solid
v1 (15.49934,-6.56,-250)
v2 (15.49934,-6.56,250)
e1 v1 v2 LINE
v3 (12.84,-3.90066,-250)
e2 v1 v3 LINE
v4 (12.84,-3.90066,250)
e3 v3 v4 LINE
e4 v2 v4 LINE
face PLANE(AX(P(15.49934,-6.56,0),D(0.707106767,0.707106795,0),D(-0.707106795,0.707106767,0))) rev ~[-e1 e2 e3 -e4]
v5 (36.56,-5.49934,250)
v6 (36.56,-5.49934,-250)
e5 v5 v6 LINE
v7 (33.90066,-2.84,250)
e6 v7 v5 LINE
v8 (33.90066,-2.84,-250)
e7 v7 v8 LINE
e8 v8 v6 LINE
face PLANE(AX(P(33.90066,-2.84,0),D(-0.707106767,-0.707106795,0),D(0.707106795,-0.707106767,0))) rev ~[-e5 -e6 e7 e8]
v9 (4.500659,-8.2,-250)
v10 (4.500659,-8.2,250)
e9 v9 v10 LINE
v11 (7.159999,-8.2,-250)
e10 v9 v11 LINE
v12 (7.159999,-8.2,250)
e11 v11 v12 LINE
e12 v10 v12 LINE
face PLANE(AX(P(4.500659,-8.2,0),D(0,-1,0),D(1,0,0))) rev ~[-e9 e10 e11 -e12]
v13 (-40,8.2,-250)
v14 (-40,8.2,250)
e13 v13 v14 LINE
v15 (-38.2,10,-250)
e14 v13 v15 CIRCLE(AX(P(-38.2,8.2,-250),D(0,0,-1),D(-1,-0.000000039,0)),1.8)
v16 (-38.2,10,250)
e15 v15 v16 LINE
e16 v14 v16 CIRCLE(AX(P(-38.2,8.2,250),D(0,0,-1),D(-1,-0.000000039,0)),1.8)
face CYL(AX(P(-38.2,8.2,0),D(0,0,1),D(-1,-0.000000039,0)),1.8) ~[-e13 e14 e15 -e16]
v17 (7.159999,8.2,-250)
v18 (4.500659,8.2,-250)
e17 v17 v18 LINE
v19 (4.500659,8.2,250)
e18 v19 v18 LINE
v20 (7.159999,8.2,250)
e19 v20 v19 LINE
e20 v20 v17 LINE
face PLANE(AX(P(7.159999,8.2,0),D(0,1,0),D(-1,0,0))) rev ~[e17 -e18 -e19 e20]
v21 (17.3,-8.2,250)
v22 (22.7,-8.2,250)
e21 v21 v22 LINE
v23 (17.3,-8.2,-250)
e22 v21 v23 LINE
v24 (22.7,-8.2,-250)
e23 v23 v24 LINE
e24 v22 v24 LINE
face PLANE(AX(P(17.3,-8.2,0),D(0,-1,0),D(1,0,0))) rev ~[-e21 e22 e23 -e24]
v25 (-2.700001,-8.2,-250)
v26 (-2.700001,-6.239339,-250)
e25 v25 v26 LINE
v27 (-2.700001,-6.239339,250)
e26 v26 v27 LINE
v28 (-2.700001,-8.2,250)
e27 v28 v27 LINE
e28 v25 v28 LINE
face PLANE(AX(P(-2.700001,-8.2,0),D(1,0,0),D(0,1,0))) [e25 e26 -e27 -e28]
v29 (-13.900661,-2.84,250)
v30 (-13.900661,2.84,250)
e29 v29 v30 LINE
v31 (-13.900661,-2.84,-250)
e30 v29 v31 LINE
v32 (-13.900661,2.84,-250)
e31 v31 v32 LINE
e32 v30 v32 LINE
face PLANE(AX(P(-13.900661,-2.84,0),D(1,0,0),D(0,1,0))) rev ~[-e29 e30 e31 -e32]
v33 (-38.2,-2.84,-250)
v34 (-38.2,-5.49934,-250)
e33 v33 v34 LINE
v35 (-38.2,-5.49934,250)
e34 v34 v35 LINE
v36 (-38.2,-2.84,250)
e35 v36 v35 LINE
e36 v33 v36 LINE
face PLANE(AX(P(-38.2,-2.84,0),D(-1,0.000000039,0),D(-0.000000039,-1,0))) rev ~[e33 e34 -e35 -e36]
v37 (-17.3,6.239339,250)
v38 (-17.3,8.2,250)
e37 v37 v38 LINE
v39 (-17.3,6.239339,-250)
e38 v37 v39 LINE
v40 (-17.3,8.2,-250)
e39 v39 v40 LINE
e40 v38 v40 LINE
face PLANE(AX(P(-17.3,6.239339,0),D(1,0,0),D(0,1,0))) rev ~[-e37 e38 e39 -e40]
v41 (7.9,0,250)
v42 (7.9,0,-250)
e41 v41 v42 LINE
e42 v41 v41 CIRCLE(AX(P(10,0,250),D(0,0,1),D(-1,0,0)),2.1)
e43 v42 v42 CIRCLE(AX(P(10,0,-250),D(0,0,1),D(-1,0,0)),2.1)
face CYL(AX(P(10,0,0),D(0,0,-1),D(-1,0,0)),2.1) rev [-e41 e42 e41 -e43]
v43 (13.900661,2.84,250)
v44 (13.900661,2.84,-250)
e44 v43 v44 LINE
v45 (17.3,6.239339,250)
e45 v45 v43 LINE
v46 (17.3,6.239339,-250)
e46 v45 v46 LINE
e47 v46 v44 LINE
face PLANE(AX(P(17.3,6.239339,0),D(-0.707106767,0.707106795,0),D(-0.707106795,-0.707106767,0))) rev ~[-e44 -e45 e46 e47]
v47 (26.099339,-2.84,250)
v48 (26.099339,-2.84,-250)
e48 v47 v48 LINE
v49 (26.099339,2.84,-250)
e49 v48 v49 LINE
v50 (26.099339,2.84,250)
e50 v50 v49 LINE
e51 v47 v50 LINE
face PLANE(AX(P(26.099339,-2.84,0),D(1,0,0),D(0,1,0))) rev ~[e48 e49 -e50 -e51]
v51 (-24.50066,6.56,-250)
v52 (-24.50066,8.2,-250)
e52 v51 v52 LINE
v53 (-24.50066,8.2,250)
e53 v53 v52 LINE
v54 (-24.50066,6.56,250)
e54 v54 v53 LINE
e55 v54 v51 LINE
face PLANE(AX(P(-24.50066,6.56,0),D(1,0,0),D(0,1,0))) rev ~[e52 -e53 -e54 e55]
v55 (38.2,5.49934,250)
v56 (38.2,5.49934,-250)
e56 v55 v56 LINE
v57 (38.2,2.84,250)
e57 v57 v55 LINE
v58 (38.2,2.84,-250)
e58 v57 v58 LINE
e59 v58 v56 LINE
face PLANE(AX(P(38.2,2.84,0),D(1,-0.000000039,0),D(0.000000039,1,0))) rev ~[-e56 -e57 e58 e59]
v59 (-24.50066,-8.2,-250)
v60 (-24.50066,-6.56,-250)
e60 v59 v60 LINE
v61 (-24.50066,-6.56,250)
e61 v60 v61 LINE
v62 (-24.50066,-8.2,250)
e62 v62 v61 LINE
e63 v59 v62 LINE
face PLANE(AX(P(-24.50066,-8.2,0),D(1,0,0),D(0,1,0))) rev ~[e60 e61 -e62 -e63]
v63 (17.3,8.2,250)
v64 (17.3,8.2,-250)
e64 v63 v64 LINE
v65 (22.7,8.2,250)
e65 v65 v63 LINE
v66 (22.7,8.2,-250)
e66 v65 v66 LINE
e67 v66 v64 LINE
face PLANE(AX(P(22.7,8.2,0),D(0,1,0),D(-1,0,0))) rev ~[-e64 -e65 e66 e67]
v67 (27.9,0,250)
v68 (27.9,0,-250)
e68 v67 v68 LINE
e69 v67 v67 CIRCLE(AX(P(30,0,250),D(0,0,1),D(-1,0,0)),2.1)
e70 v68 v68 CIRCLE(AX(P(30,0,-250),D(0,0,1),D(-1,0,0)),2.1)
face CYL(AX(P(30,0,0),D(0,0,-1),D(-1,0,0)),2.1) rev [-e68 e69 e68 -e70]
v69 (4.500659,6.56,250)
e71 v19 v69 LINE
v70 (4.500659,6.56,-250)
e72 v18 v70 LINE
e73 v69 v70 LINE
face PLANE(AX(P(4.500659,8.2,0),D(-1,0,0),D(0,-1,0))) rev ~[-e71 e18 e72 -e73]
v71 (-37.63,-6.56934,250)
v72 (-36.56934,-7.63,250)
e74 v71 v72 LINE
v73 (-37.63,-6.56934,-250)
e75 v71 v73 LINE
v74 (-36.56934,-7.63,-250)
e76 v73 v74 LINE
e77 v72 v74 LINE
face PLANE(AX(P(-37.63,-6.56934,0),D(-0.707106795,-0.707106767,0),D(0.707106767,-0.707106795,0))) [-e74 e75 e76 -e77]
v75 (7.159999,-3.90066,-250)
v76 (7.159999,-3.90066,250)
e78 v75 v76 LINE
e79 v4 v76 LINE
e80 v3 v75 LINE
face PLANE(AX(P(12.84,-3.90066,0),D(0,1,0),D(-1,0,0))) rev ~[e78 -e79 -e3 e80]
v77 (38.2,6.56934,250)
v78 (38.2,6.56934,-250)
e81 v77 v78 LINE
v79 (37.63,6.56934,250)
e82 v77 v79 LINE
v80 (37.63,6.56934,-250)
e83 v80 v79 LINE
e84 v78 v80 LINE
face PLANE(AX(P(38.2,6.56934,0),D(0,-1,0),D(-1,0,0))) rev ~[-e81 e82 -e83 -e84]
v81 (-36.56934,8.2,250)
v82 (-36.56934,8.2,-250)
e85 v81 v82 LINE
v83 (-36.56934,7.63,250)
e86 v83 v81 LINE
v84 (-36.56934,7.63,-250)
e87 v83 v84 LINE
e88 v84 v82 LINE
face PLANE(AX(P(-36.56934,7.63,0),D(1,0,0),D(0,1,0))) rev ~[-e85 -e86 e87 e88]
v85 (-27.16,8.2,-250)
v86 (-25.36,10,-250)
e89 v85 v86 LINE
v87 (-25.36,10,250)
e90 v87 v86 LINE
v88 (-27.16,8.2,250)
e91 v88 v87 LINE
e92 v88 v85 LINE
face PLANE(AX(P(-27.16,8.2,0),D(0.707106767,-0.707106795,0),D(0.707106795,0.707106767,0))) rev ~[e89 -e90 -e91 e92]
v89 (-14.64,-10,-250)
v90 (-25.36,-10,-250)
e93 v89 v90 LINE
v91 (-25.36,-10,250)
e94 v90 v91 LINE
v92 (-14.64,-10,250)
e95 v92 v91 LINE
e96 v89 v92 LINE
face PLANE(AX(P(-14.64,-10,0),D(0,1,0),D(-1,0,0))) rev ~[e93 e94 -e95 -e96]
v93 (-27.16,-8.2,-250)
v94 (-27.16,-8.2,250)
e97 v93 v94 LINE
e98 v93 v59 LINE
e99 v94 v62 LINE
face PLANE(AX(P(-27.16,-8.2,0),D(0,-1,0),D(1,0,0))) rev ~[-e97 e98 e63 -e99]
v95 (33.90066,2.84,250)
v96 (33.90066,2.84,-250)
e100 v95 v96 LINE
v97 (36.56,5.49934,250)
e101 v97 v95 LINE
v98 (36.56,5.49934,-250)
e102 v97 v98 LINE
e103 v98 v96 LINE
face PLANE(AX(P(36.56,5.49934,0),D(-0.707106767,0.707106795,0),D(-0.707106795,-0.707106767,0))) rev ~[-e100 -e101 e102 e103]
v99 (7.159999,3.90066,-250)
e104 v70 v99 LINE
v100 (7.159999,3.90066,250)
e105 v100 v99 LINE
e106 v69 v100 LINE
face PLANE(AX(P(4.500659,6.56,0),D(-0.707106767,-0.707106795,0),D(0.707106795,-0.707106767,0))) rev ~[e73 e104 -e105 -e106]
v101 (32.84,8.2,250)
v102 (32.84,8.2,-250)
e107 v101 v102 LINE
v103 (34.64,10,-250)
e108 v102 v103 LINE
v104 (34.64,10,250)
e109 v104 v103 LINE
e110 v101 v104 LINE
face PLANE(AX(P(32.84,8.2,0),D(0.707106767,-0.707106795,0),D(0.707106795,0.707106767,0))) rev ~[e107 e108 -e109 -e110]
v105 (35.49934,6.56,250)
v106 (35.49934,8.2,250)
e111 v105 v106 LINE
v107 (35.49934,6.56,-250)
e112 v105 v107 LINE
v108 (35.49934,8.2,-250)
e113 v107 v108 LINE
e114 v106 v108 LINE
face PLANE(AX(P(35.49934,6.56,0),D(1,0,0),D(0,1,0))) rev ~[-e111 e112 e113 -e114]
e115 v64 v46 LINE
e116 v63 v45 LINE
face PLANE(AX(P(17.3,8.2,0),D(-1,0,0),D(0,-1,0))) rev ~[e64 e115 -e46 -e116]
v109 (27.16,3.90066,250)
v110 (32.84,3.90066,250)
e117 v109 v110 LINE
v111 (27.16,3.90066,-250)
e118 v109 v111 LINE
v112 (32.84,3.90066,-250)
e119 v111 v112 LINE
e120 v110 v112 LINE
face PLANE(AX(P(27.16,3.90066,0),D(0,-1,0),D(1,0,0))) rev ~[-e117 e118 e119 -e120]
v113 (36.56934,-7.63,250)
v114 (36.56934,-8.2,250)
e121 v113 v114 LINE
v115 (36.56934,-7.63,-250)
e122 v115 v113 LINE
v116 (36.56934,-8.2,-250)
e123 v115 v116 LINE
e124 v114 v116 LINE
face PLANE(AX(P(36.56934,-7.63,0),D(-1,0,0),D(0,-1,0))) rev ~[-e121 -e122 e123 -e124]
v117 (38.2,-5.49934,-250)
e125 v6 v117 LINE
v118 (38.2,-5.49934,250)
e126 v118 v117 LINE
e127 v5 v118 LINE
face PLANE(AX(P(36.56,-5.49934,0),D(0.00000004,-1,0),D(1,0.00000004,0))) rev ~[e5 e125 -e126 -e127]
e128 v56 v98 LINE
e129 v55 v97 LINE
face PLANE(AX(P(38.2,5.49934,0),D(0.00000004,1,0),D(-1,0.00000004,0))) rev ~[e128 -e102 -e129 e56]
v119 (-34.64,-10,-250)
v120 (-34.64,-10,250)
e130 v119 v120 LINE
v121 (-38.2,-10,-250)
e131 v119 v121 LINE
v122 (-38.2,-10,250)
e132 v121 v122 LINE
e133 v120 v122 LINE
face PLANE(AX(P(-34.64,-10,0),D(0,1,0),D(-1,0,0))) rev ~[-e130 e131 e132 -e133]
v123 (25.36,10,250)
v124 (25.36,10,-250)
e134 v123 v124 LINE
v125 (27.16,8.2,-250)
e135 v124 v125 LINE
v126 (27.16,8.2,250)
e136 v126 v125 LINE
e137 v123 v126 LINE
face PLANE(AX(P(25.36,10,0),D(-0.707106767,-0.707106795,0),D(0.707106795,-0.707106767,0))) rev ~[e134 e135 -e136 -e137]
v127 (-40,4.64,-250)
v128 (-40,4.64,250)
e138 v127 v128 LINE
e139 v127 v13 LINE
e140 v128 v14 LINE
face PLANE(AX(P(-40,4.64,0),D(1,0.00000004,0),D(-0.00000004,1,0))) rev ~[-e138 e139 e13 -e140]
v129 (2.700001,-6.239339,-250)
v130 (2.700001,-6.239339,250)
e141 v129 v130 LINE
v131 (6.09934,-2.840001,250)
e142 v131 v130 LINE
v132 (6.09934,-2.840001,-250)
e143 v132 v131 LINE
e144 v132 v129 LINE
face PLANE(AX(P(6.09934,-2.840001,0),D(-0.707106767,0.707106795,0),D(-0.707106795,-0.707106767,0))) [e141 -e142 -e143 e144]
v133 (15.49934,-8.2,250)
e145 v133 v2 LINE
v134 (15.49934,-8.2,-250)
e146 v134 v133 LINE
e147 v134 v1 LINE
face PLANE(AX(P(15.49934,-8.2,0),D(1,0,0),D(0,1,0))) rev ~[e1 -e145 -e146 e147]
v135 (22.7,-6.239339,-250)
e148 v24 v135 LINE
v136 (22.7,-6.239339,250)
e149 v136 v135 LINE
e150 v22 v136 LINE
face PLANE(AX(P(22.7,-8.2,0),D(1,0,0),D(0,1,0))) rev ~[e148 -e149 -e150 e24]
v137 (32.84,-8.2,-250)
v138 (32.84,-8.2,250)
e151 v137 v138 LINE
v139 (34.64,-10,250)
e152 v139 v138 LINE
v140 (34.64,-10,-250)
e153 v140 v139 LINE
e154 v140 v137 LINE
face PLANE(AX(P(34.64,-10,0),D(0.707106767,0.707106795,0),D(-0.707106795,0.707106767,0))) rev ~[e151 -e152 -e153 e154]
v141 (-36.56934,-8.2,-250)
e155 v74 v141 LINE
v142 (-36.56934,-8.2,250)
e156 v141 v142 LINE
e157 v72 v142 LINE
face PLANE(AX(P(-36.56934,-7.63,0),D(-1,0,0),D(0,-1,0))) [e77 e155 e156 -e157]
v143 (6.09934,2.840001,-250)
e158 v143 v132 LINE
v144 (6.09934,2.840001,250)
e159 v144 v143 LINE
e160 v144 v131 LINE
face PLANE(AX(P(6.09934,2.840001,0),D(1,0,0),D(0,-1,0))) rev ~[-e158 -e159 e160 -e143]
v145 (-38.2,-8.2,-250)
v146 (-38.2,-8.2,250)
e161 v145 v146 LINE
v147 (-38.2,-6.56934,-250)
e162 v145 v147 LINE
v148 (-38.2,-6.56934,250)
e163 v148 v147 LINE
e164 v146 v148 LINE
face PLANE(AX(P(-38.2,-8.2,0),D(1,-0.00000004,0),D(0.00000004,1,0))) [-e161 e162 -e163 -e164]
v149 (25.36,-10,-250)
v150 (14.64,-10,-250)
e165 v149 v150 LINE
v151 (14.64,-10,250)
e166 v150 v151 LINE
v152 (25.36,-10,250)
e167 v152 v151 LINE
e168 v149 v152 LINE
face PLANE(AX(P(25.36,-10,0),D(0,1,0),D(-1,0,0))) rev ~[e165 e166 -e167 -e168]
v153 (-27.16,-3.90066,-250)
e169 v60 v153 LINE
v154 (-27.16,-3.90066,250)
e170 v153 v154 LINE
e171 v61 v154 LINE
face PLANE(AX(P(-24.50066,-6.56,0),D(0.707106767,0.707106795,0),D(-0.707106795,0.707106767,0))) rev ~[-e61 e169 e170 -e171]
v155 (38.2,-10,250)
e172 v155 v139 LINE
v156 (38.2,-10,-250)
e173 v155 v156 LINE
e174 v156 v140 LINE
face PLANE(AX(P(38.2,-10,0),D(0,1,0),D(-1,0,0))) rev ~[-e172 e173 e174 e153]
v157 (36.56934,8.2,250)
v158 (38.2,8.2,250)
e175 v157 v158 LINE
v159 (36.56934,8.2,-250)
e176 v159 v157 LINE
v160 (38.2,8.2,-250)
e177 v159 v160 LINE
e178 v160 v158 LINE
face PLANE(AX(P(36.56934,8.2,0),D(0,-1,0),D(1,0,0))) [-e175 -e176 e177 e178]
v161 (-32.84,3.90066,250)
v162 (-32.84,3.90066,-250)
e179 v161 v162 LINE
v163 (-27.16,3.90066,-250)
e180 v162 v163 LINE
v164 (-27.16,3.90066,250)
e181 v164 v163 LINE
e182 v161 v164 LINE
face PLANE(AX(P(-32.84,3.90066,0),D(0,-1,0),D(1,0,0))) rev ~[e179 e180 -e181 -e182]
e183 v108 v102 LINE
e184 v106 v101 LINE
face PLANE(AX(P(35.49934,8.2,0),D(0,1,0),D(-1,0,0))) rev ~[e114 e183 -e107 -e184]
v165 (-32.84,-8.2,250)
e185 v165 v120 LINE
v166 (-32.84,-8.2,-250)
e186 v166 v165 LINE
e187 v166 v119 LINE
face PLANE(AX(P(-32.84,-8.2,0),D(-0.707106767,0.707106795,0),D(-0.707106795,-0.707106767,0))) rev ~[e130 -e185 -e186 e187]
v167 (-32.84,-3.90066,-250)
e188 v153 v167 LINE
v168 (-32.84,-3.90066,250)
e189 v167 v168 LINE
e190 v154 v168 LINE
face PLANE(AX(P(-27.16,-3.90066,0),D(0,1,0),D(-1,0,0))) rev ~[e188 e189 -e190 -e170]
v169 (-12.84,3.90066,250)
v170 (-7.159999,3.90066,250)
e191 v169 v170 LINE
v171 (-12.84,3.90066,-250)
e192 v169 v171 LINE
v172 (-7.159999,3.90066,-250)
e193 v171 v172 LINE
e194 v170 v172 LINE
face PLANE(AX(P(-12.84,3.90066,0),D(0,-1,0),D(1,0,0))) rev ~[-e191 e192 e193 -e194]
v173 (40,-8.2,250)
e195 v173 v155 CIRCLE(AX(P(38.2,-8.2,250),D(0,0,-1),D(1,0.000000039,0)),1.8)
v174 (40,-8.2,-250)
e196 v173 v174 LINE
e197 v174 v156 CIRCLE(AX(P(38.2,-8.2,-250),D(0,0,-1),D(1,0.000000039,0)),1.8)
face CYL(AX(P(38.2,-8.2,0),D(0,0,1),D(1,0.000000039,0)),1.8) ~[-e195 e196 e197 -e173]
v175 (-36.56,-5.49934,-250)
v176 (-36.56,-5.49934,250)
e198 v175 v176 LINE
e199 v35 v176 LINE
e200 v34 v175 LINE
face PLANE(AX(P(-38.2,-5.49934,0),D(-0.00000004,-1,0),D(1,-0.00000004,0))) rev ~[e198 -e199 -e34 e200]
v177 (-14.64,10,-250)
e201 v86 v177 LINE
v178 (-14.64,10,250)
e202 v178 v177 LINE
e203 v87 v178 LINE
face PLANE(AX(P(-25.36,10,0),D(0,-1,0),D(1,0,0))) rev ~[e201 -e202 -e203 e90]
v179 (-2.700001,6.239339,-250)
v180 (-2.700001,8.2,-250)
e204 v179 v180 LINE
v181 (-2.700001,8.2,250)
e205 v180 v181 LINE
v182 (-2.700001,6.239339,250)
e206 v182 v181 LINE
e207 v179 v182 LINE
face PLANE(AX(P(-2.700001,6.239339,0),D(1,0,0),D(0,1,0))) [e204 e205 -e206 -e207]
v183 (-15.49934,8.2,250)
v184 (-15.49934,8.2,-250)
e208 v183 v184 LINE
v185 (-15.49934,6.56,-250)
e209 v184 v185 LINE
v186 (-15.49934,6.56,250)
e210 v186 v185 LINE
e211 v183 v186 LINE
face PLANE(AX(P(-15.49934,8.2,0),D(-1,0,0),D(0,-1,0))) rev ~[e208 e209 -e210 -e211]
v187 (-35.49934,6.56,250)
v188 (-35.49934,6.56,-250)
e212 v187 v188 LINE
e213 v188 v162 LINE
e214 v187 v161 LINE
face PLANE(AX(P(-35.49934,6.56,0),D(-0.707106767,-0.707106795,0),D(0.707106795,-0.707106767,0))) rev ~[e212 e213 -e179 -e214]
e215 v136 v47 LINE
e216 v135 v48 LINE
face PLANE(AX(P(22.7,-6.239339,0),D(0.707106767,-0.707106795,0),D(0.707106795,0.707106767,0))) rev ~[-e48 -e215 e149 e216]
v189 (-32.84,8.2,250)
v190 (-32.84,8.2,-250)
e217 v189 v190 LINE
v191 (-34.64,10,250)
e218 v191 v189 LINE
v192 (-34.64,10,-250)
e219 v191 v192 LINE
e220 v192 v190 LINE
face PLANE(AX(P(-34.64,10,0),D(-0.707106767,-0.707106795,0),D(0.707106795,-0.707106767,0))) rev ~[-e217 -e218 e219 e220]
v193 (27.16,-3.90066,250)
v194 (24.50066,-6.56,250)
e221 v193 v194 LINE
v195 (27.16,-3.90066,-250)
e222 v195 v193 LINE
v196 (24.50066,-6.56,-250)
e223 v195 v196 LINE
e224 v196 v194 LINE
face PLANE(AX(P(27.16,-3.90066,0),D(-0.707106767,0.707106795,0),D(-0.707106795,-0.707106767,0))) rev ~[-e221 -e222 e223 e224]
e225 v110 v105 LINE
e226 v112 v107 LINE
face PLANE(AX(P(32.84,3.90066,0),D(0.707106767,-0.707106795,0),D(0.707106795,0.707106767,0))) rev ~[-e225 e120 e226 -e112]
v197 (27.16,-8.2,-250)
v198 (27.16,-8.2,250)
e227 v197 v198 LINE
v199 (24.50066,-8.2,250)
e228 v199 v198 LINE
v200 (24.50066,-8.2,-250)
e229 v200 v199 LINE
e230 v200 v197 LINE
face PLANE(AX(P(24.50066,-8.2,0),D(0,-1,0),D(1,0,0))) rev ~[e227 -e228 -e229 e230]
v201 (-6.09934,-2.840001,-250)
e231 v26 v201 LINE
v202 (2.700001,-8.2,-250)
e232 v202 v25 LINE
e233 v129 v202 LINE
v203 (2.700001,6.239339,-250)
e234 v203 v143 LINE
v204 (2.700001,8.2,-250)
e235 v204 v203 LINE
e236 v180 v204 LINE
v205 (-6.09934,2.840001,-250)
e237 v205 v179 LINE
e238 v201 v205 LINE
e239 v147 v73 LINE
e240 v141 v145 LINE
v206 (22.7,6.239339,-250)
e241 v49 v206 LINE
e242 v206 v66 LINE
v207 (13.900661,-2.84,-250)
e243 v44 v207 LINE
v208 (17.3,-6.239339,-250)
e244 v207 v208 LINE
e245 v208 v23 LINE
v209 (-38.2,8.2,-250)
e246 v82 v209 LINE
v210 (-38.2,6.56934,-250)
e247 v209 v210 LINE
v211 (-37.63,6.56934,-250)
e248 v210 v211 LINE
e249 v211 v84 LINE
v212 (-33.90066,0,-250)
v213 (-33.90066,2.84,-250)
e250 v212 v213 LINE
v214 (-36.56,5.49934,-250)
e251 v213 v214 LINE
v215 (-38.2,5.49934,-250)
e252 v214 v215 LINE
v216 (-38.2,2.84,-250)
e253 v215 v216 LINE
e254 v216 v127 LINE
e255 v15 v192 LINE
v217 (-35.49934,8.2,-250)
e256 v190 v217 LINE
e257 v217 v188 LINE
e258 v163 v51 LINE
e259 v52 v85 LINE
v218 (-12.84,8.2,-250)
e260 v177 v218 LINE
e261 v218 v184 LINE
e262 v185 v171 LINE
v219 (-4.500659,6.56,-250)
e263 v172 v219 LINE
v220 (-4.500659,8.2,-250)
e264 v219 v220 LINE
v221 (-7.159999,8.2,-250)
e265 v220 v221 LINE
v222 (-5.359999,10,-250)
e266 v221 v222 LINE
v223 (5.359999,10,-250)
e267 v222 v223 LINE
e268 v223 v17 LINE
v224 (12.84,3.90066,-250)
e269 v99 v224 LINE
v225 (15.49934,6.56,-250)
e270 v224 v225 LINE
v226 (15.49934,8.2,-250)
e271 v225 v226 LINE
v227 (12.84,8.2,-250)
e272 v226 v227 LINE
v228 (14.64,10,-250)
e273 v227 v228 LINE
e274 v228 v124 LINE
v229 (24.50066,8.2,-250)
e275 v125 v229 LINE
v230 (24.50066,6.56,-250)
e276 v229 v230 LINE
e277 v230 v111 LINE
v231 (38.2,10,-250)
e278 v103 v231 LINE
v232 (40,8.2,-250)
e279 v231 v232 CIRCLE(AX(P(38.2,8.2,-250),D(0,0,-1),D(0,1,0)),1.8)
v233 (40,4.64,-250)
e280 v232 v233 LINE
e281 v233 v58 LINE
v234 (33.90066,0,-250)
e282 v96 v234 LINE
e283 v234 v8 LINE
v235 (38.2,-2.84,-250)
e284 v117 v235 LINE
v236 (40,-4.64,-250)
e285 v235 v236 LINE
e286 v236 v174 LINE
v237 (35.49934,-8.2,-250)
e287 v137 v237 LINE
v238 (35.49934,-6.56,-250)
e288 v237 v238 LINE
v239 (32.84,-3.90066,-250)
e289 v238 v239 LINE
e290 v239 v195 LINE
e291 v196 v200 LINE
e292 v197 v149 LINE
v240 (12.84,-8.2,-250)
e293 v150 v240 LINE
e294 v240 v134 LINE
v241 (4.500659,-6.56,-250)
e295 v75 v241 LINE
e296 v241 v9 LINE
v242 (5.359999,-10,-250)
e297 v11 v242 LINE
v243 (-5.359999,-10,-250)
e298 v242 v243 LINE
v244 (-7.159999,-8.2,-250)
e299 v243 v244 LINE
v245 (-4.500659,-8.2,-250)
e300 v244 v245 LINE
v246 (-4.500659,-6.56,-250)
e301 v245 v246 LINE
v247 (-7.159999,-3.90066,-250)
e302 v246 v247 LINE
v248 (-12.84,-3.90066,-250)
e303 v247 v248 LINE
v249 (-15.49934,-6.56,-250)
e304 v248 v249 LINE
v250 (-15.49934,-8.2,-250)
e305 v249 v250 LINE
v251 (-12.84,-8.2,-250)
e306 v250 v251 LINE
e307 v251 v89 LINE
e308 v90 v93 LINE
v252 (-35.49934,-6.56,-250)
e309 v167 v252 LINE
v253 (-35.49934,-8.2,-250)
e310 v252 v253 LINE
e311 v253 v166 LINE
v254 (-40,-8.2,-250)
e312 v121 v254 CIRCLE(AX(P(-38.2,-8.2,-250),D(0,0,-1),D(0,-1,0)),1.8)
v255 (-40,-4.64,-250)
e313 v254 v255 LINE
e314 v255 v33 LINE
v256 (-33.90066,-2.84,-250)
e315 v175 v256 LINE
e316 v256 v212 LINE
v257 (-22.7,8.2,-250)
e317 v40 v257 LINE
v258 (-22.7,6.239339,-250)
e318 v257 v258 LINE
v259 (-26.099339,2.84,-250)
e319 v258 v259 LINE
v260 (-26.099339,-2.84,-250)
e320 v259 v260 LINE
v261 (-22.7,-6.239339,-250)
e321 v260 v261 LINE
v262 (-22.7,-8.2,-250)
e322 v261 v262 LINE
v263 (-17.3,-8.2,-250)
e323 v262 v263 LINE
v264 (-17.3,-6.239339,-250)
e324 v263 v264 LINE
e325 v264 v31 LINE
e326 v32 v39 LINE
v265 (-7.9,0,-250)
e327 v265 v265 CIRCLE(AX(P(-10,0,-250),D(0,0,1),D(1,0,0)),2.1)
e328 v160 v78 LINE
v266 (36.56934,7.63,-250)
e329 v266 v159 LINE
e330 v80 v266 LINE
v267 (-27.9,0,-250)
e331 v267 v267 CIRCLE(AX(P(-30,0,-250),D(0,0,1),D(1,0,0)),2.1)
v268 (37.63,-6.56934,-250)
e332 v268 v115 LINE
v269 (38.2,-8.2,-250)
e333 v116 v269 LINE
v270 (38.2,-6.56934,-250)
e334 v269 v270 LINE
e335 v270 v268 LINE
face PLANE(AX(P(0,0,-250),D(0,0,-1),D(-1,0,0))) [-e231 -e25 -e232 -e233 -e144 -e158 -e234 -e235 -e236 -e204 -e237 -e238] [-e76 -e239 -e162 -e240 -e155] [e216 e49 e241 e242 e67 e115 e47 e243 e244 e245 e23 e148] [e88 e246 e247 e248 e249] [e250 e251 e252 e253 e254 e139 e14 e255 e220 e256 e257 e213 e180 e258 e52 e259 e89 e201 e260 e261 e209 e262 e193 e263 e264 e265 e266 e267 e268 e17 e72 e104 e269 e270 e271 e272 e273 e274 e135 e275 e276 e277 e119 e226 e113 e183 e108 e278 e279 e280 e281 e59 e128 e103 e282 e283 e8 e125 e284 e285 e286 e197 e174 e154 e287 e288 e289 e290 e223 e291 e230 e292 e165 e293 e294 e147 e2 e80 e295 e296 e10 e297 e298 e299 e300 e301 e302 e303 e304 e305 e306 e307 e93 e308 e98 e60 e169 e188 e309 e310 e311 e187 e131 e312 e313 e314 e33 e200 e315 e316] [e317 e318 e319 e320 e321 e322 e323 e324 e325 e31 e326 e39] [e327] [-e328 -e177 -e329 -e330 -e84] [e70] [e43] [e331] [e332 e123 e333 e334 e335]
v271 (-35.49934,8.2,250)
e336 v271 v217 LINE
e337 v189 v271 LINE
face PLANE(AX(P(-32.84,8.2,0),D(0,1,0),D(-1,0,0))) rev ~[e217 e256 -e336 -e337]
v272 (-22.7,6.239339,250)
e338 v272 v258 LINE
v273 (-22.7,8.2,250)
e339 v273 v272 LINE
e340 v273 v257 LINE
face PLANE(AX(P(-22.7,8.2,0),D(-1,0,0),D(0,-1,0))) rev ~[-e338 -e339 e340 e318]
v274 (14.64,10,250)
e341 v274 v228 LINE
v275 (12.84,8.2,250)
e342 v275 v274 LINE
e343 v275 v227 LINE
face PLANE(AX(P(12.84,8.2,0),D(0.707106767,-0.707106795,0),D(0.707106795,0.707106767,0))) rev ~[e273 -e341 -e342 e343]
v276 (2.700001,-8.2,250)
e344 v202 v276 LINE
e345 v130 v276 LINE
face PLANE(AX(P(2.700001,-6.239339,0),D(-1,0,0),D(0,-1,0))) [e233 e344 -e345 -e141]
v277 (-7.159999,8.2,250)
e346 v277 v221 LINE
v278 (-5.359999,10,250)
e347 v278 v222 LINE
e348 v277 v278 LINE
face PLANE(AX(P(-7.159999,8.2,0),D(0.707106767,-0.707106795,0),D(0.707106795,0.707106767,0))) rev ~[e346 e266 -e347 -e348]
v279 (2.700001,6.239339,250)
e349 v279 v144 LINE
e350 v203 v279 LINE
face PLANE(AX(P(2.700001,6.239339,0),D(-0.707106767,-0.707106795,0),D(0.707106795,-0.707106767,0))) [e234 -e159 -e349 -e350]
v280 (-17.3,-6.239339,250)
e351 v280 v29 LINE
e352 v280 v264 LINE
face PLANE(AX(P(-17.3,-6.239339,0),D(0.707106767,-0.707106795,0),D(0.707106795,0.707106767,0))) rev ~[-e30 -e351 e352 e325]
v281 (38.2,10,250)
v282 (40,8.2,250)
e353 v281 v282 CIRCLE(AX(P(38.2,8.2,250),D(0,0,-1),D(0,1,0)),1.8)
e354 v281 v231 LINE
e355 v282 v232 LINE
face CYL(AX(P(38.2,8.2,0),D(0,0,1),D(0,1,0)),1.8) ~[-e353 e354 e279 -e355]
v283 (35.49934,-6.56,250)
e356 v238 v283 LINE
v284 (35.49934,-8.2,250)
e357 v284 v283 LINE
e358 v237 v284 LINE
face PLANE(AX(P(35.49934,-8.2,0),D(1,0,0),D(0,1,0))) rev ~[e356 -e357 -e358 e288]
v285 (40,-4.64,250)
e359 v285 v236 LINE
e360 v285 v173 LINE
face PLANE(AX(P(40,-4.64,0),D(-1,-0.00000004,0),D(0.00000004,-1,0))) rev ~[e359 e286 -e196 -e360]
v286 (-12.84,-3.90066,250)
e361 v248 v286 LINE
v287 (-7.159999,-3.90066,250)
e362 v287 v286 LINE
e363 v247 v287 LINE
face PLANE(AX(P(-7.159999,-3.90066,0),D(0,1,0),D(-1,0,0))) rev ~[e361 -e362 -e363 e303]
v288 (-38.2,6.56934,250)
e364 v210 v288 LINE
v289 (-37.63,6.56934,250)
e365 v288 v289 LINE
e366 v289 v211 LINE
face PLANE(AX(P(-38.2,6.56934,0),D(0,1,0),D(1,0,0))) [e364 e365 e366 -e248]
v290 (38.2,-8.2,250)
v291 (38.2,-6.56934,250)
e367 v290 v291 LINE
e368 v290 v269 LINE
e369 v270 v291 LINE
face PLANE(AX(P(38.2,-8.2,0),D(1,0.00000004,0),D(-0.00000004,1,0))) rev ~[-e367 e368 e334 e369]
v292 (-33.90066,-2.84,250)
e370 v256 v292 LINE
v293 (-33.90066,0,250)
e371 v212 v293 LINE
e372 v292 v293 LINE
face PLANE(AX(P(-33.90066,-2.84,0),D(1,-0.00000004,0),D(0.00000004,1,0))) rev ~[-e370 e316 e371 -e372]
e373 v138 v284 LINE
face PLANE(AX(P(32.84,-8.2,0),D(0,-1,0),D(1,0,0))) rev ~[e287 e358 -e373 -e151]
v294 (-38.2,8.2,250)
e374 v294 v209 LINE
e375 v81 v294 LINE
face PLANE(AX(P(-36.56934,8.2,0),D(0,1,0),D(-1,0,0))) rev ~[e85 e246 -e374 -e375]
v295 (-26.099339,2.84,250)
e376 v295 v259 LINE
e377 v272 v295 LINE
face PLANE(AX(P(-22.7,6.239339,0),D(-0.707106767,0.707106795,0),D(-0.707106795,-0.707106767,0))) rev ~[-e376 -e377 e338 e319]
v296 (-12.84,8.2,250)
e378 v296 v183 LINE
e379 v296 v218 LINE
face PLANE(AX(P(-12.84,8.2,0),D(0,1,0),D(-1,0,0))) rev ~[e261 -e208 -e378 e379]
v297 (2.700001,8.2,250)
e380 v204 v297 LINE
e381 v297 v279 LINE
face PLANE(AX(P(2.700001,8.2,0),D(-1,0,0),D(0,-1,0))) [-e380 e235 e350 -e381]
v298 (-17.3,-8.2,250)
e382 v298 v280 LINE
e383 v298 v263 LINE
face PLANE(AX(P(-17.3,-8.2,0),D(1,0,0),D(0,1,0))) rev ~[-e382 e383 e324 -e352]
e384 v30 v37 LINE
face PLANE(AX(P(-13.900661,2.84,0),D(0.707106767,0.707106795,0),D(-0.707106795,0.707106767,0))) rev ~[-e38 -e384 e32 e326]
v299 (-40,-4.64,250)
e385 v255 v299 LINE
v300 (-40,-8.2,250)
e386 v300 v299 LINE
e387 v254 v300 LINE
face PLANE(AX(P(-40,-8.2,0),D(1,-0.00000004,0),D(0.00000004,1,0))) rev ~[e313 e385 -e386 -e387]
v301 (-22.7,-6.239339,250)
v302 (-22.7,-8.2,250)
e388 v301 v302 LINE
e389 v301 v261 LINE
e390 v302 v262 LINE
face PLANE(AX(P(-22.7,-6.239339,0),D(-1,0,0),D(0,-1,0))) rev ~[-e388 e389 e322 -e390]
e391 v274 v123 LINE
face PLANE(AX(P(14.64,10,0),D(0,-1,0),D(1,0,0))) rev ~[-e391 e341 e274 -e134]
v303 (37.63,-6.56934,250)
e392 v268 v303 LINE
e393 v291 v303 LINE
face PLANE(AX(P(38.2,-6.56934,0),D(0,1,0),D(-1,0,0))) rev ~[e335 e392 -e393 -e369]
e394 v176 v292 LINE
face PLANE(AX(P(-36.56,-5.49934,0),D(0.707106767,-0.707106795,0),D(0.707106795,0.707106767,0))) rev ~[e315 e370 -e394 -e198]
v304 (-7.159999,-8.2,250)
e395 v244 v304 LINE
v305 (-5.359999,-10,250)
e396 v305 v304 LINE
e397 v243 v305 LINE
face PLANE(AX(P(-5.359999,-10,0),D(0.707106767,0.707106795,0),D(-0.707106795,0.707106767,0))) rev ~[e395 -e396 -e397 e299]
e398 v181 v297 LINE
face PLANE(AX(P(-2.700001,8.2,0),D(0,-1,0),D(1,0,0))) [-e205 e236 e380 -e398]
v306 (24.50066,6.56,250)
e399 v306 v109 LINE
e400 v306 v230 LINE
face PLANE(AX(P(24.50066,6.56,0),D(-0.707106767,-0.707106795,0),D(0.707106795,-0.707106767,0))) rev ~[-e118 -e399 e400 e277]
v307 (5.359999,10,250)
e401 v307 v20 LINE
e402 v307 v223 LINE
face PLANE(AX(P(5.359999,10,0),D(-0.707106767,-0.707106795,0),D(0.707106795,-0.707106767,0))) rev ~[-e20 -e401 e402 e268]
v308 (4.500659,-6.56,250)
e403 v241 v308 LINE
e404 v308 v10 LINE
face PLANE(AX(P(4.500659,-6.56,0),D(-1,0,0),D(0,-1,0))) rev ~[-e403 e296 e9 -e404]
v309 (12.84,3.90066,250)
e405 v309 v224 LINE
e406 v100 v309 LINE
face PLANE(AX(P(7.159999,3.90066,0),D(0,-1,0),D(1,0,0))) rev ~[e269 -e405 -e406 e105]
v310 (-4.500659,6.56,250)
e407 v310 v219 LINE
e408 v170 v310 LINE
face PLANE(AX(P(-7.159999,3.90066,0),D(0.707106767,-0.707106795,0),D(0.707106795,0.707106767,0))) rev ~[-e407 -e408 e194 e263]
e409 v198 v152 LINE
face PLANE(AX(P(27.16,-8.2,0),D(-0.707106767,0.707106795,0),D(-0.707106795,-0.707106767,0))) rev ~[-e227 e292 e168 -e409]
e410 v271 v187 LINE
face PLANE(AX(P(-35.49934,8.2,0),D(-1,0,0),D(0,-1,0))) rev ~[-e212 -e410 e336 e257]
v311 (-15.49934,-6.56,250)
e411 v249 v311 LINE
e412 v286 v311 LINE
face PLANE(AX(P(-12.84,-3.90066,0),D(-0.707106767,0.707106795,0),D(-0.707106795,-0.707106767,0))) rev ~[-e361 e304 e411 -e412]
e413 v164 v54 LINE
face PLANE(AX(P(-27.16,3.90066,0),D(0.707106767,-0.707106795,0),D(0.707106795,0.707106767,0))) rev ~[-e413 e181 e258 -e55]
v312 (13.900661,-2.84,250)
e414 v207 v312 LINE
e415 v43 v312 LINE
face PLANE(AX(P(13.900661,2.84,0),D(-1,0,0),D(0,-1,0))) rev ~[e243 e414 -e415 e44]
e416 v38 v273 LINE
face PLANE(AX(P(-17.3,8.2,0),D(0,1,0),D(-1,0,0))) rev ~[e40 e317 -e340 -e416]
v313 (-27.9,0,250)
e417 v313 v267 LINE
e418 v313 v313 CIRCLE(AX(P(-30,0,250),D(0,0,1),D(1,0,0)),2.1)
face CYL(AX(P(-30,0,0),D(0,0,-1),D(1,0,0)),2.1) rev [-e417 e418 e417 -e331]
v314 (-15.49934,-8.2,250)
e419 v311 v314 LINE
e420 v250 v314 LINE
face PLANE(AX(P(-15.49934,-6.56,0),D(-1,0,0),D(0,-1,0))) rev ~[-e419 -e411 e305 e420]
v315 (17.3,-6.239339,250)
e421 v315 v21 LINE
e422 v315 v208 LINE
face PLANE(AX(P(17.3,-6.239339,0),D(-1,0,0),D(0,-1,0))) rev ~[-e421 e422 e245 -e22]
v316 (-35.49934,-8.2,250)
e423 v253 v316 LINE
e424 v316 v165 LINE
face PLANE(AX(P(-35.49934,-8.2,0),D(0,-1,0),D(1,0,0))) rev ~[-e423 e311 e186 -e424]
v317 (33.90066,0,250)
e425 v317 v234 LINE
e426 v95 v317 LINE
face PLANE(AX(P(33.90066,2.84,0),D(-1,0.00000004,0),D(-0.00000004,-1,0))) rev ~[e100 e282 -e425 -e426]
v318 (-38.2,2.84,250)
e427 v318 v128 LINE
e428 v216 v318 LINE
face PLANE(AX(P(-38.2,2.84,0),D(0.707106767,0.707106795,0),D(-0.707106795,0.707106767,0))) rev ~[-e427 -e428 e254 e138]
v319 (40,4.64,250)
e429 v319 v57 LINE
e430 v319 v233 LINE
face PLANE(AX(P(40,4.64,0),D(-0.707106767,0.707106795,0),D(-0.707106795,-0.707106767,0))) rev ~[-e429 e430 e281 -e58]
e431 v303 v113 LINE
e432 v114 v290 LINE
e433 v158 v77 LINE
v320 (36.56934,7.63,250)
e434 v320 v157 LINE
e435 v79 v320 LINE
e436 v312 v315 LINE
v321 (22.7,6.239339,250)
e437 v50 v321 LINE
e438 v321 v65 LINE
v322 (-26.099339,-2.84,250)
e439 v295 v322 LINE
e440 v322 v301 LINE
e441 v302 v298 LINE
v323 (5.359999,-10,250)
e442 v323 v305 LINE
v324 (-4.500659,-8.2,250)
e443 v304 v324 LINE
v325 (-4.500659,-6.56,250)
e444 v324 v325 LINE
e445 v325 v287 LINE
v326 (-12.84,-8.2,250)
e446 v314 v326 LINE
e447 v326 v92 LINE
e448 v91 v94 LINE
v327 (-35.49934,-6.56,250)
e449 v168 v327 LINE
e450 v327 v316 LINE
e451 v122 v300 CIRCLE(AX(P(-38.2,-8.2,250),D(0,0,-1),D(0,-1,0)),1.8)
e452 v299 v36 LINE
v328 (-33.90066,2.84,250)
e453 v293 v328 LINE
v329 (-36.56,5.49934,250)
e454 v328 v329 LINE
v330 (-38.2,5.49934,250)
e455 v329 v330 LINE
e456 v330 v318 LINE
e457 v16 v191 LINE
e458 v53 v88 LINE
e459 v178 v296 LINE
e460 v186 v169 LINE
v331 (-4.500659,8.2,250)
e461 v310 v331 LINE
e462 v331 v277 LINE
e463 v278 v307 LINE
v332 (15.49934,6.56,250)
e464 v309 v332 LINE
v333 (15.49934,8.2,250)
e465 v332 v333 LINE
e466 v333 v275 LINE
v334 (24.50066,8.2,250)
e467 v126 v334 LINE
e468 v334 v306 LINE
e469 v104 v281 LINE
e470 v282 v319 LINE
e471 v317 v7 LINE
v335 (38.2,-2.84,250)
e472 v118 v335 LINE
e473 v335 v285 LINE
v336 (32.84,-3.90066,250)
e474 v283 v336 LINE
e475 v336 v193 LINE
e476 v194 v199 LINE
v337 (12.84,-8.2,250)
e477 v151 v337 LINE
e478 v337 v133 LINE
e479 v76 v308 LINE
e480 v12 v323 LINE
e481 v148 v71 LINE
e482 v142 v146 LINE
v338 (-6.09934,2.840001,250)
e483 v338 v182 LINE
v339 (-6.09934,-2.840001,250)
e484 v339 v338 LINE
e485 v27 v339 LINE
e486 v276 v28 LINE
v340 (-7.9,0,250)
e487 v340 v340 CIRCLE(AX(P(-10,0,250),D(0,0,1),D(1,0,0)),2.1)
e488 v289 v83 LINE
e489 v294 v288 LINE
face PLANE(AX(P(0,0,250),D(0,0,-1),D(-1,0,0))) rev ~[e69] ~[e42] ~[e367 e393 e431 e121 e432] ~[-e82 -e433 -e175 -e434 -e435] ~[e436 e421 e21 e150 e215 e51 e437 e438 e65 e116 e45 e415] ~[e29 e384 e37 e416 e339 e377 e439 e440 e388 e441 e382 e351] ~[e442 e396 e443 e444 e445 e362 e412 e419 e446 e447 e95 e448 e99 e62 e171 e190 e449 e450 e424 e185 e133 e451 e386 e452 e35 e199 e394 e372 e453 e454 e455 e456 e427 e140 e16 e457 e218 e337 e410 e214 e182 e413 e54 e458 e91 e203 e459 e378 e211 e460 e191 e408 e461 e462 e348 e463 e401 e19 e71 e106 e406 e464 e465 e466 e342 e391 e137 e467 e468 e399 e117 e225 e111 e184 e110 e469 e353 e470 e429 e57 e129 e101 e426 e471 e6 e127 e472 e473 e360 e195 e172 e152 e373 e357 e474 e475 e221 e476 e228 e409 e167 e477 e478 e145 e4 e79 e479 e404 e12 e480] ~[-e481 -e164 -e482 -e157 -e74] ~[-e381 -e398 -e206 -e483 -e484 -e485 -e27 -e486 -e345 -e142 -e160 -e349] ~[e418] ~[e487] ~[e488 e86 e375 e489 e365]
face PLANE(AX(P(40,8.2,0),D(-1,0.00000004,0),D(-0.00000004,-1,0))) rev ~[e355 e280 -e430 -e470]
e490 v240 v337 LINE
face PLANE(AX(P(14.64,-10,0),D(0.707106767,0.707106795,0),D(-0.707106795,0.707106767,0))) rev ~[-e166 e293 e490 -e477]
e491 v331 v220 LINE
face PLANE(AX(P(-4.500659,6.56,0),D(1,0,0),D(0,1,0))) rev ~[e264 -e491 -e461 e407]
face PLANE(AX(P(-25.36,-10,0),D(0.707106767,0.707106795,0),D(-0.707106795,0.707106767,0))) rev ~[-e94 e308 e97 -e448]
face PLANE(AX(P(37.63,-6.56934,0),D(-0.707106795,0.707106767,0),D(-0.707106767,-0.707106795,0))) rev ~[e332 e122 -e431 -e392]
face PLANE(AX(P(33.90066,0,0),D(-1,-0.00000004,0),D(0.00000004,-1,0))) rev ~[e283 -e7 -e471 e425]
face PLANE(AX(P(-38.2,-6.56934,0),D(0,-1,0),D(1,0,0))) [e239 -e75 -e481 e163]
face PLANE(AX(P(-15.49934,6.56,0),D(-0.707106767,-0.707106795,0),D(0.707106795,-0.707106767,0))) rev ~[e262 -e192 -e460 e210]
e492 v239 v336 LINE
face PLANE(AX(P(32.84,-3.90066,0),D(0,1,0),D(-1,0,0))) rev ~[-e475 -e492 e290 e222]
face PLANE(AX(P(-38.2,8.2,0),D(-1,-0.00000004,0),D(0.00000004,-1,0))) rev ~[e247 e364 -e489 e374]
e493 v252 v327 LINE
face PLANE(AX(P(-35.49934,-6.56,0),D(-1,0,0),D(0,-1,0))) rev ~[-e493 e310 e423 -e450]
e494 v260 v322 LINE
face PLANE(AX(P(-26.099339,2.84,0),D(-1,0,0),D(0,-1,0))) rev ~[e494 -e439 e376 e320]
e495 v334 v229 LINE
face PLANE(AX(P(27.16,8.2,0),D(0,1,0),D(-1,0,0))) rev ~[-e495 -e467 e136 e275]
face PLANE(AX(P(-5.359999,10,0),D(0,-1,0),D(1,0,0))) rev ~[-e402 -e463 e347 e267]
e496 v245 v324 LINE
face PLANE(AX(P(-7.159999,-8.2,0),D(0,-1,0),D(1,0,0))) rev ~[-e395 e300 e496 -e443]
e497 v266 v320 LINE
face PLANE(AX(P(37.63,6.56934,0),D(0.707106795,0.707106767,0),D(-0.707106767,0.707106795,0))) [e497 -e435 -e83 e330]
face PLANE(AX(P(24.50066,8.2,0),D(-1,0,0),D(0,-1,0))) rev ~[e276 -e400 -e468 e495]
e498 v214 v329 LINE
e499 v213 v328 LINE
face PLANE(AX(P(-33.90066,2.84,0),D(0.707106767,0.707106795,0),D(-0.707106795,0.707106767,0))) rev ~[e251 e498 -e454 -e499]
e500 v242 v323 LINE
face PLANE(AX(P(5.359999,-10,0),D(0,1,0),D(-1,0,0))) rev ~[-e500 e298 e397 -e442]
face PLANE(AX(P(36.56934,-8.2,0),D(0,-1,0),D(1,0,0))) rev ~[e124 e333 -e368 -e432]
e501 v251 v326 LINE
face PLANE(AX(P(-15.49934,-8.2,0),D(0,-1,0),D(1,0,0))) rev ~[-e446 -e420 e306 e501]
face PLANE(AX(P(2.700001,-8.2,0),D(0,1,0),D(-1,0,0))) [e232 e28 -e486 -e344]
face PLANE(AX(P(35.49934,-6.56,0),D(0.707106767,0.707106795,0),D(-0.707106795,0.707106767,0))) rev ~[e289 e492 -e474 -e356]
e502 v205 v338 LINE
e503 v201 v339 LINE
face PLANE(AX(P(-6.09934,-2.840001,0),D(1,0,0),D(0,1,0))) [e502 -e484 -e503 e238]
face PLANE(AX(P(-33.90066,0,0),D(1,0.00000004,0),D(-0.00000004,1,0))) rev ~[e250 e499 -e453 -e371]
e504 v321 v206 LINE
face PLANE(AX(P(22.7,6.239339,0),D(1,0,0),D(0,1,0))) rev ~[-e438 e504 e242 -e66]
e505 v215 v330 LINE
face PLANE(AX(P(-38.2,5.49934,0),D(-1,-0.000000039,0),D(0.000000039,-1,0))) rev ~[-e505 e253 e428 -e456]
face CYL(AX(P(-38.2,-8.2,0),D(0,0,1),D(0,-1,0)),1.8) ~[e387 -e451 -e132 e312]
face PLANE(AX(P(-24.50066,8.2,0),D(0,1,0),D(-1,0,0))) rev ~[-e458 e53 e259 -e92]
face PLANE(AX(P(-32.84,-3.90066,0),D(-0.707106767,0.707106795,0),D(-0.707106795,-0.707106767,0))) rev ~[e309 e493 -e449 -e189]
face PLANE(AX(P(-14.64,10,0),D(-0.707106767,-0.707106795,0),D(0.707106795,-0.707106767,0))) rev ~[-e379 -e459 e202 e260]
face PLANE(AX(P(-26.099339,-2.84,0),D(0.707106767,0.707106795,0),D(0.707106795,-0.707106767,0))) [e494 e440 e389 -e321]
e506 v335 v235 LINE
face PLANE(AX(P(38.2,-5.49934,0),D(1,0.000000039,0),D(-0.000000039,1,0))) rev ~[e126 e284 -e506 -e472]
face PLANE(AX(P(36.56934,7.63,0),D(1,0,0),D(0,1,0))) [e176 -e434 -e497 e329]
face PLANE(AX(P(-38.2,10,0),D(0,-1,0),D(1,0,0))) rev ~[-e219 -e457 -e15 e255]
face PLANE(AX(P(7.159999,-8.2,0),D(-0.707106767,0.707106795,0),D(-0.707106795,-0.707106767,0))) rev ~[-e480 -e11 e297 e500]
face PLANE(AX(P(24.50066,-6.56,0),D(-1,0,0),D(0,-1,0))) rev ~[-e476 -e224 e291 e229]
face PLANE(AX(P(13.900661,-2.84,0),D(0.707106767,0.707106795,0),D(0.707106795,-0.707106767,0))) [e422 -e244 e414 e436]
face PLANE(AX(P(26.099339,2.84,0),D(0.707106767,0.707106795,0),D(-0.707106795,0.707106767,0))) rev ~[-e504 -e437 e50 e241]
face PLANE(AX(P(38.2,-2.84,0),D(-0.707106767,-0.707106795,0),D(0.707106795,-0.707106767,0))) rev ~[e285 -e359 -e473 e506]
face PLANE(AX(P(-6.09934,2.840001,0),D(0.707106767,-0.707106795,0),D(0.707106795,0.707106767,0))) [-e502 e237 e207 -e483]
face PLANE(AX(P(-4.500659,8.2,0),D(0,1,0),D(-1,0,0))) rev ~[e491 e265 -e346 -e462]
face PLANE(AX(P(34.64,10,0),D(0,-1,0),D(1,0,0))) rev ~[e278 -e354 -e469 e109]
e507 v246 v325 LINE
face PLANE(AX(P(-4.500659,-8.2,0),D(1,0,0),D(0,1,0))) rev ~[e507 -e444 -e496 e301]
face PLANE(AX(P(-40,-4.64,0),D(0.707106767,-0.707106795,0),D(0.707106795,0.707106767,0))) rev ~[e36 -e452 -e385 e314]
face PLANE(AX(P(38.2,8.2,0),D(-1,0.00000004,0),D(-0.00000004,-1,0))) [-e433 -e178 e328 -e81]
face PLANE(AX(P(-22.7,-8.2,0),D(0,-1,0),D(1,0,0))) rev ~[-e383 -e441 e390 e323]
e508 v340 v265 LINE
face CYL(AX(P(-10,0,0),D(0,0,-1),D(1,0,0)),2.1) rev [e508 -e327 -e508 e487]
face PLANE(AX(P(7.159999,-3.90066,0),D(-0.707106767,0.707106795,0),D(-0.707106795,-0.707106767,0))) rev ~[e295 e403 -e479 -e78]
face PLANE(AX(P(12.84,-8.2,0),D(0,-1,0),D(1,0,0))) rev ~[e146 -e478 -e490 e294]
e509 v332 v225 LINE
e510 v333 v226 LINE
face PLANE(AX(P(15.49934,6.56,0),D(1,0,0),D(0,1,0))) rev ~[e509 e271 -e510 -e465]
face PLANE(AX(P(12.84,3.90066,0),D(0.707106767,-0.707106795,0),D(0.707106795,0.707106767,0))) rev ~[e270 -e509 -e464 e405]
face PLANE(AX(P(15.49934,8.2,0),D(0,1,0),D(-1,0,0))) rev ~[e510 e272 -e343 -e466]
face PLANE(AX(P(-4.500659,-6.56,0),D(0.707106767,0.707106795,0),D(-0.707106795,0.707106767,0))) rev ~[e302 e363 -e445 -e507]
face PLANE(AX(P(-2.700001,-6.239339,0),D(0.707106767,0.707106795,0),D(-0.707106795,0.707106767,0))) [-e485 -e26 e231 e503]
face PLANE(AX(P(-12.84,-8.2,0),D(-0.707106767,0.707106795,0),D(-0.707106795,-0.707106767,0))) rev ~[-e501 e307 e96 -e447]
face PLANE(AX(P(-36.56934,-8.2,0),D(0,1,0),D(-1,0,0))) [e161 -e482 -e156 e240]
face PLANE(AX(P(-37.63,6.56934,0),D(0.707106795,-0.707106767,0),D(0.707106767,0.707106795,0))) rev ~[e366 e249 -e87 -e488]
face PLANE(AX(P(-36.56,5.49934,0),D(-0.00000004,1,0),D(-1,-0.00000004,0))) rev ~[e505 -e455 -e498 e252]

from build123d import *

# Parameters (mm, degrees)
ESQUISSE1_R        = 2.1
BOSS_EXTRU_1_DEPTH = 250


with BuildPart() as part:
    # Esquisse1 → Boss.-Extru.1 (new, symmetric)
    with BuildSketch(Plane.XY):
        with BuildLine():
            Line((-38.199999929, 10), (-34.639999675, 10))
            Line((-34.639999675, 10), (-32.839999603, 8.2))
            Line((-32.839999603, 8.2), (-35.499339671, 8.2))
            Line((-35.499339671, 8.2), (-35.499339671, 6.56))
            Line((-35.499339671, 6.56), (-32.839999603, 3.900660038))
            Line((-32.839999603, 3.900660038), (-27.159999603, 3.900660038))
            Line((-27.159999603, 3.900660038), (-24.500659536, 6.56))
            Line((-24.500659536, 6.56), (-24.500659536, 8.2))
            Line((-24.500659536, 8.2), (-27.159999603, 8.2))
            Line((-27.159999603, 8.2), (-25.359999532, 10))
            Line((-25.359999532, 10), (-14.640000468, 10))
            Line((-14.640000468, 10), (-12.840000397, 8.2))
            Line((-12.840000397, 8.2), (-15.499340464, 8.2))
            Line((-15.499340464, 8.2), (-15.499340464, 6.56))
            Line((-15.499340464, 6.56), (-12.840000397, 3.900660038))
            Line((-12.840000397, 3.900660038), (-7.159998809, 3.900660038))
            Line((-7.159998809, 3.900660038), (-4.500658742, 6.56))
            Line((-4.500658742, 6.56), (-4.500658742, 8.2))
            Line((-4.500658742, 8.2), (-7.159998809, 8.2))
            Line((-7.159998809, 8.2), (-5.359998738, 10))
            Line((-5.359998738, 10), (5.359998738, 10))
            Line((5.359998738, 10), (7.159998809, 8.2))
            Line((7.159998809, 8.2), (4.500658742, 8.2))
            Line((4.500658742, 8.2), (4.500658742, 6.56))
            Line((4.500658742, 6.56), (7.159998809, 3.900660038))
            Line((7.159998809, 3.900660038), (12.840000397, 3.900660038))
            Line((12.840000397, 3.900660038), (15.499340464, 6.56))
            Line((15.499340464, 6.56), (15.499340464, 8.2))
            Line((15.499340464, 8.2), (12.840000397, 8.2))
            Line((12.840000397, 8.2), (14.640000468, 10))
            Line((14.640000468, 10), (25.359999532, 10))
            Line((25.359999532, 10), (27.159999603, 8.2))
            Line((27.159999603, 8.2), (24.500659536, 8.2))
            Line((24.500659536, 8.2), (24.500659536, 6.56))
            Line((24.500659536, 6.56), (27.159999603, 3.900660038))
            Line((27.159999603, 3.900660038), (32.839999603, 3.900660038))
            Line((32.839999603, 3.900660038), (35.499339671, 6.56))
            Line((35.499339671, 6.56), (35.499339671, 8.2))
            Line((35.499339671, 8.2), (32.839999603, 8.2))
            Line((32.839999603, 8.2), (34.639999675, 10))
            Line((34.639999675, 10), (38.199999929, 10))
            ThreePointArc((38.199999929, 10), (39.47279216, 9.472792181), (39.999999929, 8.199999929))
            Line((39.999999929, 8.199999929), (39.999999787, 4.639999675))
            Line((39.999999787, 4.639999675), (38.199999716, 2.839999675))
            Line((38.199999716, 2.839999675), (38.199999821, 5.499339742))
            Line((38.199999821, 5.499339742), (36.559999821, 5.499339807))
            Line((36.559999821, 5.499339807), (33.900659754, 2.839999845))
            Line((33.900659754, 2.839999845), (33.900659641, 0))
            Line((33.900659641, 0), (33.900659754, -2.839999845))
            Line((33.900659754, -2.839999845), (36.559999821, -5.499339807))
            Line((36.559999821, -5.499339807), (38.199999821, -5.499339742))
            Line((38.199999821, -5.499339742), (38.199999716, -2.839999675))
            Line((38.199999716, -2.839999675), (39.999999787, -4.639999675))
            Line((39.999999787, -4.639999675), (39.999999929, -8.199999929))
            ThreePointArc((39.999999929, -8.199999929), (39.47279216, -9.472792181), (38.199999929, -10))
            Line((38.199999929, -10), (34.639999675, -10))
            Line((34.639999675, -10), (32.839999603, -8.2))
            Line((32.839999603, -8.2), (35.499339671, -8.2))
            Line((35.499339671, -8.2), (35.499339671, -6.56))
            Line((35.499339671, -6.56), (32.839999603, -3.900660038))
            Line((32.839999603, -3.900660038), (27.159999603, -3.900660038))
            Line((27.159999603, -3.900660038), (24.500659536, -6.56))
            Line((24.500659536, -6.56), (24.500659536, -8.2))
            Line((24.500659536, -8.2), (27.159999603, -8.2))
            Line((27.159999603, -8.2), (25.359999532, -10))
            Line((25.359999532, -10), (14.640000468, -10))
            Line((14.640000468, -10), (12.840000397, -8.2))
            Line((12.840000397, -8.2), (15.499340464, -8.2))
            Line((15.499340464, -8.2), (15.499340464, -6.56))
            Line((15.499340464, -6.56), (12.840000397, -3.900660038))
            Line((12.840000397, -3.900660038), (7.159998809, -3.900660038))
            Line((7.159998809, -3.900660038), (4.500658742, -6.56))
            Line((4.500658742, -6.56), (4.500658742, -8.2))
            Line((4.500658742, -8.2), (7.159998809, -8.2))
            Line((7.159998809, -8.2), (5.359998738, -10))
            Line((5.359998738, -10), (-5.359998738, -10))
            Line((-5.359998738, -10), (-7.159998809, -8.2))
            Line((-7.159998809, -8.2), (-4.500658742, -8.2))
            Line((-4.500658742, -8.2), (-4.500658742, -6.56))
            Line((-4.500658742, -6.56), (-7.159998809, -3.900660038))
            Line((-7.159998809, -3.900660038), (-12.840000397, -3.900660038))
            Line((-12.840000397, -3.900660038), (-15.499340464, -6.56))
            Line((-15.499340464, -6.56), (-15.499340464, -8.2))
            Line((-15.499340464, -8.2), (-12.840000397, -8.2))
            Line((-12.840000397, -8.2), (-14.640000468, -10))
            Line((-14.640000468, -10), (-25.359999532, -10))
            Line((-25.359999532, -10), (-27.159999603, -8.2))
            Line((-27.159999603, -8.2), (-24.500659536, -8.2))
            Line((-24.500659536, -8.2), (-24.500659536, -6.56))
            Line((-24.500659536, -6.56), (-27.159999603, -3.900660038))
            Line((-27.159999603, -3.900660038), (-32.839999603, -3.900660038))
            Line((-32.839999603, -3.900660038), (-35.499339671, -6.56))
            Line((-35.499339671, -6.56), (-35.499339671, -8.2))
            Line((-35.499339671, -8.2), (-32.839999603, -8.2))
            Line((-32.839999603, -8.2), (-34.639999675, -10))
            Line((-34.639999675, -10), (-38.199999929, -10))
            ThreePointArc((-38.199999929, -10), (-39.47279216, -9.472792181), (-39.999999929, -8.199999929))
            Line((-39.999999929, -8.199999929), (-39.999999787, -4.639999675))
            Line((-39.999999787, -4.639999675), (-38.199999716, -2.839999675))
            Line((-38.199999716, -2.839999675), (-38.199999821, -5.499339742))
            Line((-38.199999821, -5.499339742), (-36.559999821, -5.499339807))
            Line((-36.559999821, -5.499339807), (-33.900659754, -2.839999845))
            Line((-33.900659754, -2.839999845), (-33.900659641, 0))
            Line((-33.900659641, 0), (-33.900659754, 2.839999845))
            Line((-33.900659754, 2.839999845), (-36.559999821, 5.499339807))
            Line((-36.559999821, 5.499339807), (-38.199999821, 5.499339742))
            Line((-38.199999821, 5.499339742), (-38.199999716, 2.839999675))
            Line((-38.199999716, 2.839999675), (-39.999999787, 4.639999675))
            Line((-39.999999787, 4.639999675), (-39.999999929, 8.199999929))
            ThreePointArc((-39.999999929, 8.199999929), (-39.47279216, 9.472792181), (-38.199999929, 10))
        make_face()
        with Locations((-29.999999603, 0)):
            Circle(ESQUISSE1_R, mode=Mode.SUBTRACT)
        with Locations((-9.999999603, 0)):
            Circle(ESQUISSE1_R, mode=Mode.SUBTRACT)
        with Locations(Location((29.999999603, 0, 0), (0, 0, 180))):
            Circle(ESQUISSE1_R, mode=Mode.SUBTRACT)
        with Locations(Location((9.999999603, 0, 0), (0, 0, 180))):
            Circle(ESQUISSE1_R, mode=Mode.SUBTRACT)
        Polygon((-38.199999929, 8.2), (-38.199999864, 6.569339742), (-37.629999799, 6.569339742), (-36.569339648, 7.629999935), (-36.569339648, 8.2), align=None, mode=Mode.SUBTRACT)
        Polygon((-17.3, 6.239339079), (-17.3, 8.2), (-22.7, 8.2), (-22.7, 6.239339079), (-26.099339368, 2.839999845), (-26.099339368, -2.839999845), (-22.7, -6.239339079), (-22.7, -8.2), (-17.3, -8.2), (-17.3, -6.239339079), (-13.900660632, -2.839999845), (-13.900660632, 2.839999845), align=None, mode=Mode.SUBTRACT)
        Polygon((-6.099339678, -2.840000949), (-6.099339678, 2.840000949), (-2.700001413, 6.239339079), (-2.700001413, 8.2), (2.700001413, 8.2), (2.700001413, 6.239339079), (6.099339678, 2.840000949), (6.099339678, -2.840000949), (2.700001413, -6.239339079), (2.700001413, -8.2), (-2.700001413, -8.2), (-2.700001413, -6.239339079), align=None, mode=Mode.SUBTRACT)
        Polygon((-36.569339648, -7.629999935), (-36.569339648, -8.2), (-38.199999929, -8.2), (-38.199999864, -6.569339742), (-37.629999799, -6.569339742), align=None, mode=Mode.SUBTRACT)
        Polygon((36.569339648, 8.2), (38.199999929, 8.2), (38.199999864, 6.569339742), (37.629999799, 6.569339742), (36.569339648, 7.629999935), align=None, mode=Mode.SUBTRACT)
        Polygon((36.569339648, -8.2), (38.199999929, -8.2), (38.199999864, -6.569339742), (37.629999799, -6.569339742), (36.569339648, -7.629999935), align=None, mode=Mode.SUBTRACT)
        Polygon((13.900660632, -2.839999845), (17.3, -6.239339079), (17.3, -8.2), (22.7, -8.2), (22.7, -6.239339079), (26.099339368, -2.839999845), (26.099339368, 2.839999845), (22.7, 6.239339079), (22.7, 8.2), (17.3, 8.2), (17.3, 6.239339079), (13.900660632, 2.839999845), align=None, mode=Mode.SUBTRACT)
    extrude(amount=BOSS_EXTRU_1_DEPTH, both=True)


solid = part.part
